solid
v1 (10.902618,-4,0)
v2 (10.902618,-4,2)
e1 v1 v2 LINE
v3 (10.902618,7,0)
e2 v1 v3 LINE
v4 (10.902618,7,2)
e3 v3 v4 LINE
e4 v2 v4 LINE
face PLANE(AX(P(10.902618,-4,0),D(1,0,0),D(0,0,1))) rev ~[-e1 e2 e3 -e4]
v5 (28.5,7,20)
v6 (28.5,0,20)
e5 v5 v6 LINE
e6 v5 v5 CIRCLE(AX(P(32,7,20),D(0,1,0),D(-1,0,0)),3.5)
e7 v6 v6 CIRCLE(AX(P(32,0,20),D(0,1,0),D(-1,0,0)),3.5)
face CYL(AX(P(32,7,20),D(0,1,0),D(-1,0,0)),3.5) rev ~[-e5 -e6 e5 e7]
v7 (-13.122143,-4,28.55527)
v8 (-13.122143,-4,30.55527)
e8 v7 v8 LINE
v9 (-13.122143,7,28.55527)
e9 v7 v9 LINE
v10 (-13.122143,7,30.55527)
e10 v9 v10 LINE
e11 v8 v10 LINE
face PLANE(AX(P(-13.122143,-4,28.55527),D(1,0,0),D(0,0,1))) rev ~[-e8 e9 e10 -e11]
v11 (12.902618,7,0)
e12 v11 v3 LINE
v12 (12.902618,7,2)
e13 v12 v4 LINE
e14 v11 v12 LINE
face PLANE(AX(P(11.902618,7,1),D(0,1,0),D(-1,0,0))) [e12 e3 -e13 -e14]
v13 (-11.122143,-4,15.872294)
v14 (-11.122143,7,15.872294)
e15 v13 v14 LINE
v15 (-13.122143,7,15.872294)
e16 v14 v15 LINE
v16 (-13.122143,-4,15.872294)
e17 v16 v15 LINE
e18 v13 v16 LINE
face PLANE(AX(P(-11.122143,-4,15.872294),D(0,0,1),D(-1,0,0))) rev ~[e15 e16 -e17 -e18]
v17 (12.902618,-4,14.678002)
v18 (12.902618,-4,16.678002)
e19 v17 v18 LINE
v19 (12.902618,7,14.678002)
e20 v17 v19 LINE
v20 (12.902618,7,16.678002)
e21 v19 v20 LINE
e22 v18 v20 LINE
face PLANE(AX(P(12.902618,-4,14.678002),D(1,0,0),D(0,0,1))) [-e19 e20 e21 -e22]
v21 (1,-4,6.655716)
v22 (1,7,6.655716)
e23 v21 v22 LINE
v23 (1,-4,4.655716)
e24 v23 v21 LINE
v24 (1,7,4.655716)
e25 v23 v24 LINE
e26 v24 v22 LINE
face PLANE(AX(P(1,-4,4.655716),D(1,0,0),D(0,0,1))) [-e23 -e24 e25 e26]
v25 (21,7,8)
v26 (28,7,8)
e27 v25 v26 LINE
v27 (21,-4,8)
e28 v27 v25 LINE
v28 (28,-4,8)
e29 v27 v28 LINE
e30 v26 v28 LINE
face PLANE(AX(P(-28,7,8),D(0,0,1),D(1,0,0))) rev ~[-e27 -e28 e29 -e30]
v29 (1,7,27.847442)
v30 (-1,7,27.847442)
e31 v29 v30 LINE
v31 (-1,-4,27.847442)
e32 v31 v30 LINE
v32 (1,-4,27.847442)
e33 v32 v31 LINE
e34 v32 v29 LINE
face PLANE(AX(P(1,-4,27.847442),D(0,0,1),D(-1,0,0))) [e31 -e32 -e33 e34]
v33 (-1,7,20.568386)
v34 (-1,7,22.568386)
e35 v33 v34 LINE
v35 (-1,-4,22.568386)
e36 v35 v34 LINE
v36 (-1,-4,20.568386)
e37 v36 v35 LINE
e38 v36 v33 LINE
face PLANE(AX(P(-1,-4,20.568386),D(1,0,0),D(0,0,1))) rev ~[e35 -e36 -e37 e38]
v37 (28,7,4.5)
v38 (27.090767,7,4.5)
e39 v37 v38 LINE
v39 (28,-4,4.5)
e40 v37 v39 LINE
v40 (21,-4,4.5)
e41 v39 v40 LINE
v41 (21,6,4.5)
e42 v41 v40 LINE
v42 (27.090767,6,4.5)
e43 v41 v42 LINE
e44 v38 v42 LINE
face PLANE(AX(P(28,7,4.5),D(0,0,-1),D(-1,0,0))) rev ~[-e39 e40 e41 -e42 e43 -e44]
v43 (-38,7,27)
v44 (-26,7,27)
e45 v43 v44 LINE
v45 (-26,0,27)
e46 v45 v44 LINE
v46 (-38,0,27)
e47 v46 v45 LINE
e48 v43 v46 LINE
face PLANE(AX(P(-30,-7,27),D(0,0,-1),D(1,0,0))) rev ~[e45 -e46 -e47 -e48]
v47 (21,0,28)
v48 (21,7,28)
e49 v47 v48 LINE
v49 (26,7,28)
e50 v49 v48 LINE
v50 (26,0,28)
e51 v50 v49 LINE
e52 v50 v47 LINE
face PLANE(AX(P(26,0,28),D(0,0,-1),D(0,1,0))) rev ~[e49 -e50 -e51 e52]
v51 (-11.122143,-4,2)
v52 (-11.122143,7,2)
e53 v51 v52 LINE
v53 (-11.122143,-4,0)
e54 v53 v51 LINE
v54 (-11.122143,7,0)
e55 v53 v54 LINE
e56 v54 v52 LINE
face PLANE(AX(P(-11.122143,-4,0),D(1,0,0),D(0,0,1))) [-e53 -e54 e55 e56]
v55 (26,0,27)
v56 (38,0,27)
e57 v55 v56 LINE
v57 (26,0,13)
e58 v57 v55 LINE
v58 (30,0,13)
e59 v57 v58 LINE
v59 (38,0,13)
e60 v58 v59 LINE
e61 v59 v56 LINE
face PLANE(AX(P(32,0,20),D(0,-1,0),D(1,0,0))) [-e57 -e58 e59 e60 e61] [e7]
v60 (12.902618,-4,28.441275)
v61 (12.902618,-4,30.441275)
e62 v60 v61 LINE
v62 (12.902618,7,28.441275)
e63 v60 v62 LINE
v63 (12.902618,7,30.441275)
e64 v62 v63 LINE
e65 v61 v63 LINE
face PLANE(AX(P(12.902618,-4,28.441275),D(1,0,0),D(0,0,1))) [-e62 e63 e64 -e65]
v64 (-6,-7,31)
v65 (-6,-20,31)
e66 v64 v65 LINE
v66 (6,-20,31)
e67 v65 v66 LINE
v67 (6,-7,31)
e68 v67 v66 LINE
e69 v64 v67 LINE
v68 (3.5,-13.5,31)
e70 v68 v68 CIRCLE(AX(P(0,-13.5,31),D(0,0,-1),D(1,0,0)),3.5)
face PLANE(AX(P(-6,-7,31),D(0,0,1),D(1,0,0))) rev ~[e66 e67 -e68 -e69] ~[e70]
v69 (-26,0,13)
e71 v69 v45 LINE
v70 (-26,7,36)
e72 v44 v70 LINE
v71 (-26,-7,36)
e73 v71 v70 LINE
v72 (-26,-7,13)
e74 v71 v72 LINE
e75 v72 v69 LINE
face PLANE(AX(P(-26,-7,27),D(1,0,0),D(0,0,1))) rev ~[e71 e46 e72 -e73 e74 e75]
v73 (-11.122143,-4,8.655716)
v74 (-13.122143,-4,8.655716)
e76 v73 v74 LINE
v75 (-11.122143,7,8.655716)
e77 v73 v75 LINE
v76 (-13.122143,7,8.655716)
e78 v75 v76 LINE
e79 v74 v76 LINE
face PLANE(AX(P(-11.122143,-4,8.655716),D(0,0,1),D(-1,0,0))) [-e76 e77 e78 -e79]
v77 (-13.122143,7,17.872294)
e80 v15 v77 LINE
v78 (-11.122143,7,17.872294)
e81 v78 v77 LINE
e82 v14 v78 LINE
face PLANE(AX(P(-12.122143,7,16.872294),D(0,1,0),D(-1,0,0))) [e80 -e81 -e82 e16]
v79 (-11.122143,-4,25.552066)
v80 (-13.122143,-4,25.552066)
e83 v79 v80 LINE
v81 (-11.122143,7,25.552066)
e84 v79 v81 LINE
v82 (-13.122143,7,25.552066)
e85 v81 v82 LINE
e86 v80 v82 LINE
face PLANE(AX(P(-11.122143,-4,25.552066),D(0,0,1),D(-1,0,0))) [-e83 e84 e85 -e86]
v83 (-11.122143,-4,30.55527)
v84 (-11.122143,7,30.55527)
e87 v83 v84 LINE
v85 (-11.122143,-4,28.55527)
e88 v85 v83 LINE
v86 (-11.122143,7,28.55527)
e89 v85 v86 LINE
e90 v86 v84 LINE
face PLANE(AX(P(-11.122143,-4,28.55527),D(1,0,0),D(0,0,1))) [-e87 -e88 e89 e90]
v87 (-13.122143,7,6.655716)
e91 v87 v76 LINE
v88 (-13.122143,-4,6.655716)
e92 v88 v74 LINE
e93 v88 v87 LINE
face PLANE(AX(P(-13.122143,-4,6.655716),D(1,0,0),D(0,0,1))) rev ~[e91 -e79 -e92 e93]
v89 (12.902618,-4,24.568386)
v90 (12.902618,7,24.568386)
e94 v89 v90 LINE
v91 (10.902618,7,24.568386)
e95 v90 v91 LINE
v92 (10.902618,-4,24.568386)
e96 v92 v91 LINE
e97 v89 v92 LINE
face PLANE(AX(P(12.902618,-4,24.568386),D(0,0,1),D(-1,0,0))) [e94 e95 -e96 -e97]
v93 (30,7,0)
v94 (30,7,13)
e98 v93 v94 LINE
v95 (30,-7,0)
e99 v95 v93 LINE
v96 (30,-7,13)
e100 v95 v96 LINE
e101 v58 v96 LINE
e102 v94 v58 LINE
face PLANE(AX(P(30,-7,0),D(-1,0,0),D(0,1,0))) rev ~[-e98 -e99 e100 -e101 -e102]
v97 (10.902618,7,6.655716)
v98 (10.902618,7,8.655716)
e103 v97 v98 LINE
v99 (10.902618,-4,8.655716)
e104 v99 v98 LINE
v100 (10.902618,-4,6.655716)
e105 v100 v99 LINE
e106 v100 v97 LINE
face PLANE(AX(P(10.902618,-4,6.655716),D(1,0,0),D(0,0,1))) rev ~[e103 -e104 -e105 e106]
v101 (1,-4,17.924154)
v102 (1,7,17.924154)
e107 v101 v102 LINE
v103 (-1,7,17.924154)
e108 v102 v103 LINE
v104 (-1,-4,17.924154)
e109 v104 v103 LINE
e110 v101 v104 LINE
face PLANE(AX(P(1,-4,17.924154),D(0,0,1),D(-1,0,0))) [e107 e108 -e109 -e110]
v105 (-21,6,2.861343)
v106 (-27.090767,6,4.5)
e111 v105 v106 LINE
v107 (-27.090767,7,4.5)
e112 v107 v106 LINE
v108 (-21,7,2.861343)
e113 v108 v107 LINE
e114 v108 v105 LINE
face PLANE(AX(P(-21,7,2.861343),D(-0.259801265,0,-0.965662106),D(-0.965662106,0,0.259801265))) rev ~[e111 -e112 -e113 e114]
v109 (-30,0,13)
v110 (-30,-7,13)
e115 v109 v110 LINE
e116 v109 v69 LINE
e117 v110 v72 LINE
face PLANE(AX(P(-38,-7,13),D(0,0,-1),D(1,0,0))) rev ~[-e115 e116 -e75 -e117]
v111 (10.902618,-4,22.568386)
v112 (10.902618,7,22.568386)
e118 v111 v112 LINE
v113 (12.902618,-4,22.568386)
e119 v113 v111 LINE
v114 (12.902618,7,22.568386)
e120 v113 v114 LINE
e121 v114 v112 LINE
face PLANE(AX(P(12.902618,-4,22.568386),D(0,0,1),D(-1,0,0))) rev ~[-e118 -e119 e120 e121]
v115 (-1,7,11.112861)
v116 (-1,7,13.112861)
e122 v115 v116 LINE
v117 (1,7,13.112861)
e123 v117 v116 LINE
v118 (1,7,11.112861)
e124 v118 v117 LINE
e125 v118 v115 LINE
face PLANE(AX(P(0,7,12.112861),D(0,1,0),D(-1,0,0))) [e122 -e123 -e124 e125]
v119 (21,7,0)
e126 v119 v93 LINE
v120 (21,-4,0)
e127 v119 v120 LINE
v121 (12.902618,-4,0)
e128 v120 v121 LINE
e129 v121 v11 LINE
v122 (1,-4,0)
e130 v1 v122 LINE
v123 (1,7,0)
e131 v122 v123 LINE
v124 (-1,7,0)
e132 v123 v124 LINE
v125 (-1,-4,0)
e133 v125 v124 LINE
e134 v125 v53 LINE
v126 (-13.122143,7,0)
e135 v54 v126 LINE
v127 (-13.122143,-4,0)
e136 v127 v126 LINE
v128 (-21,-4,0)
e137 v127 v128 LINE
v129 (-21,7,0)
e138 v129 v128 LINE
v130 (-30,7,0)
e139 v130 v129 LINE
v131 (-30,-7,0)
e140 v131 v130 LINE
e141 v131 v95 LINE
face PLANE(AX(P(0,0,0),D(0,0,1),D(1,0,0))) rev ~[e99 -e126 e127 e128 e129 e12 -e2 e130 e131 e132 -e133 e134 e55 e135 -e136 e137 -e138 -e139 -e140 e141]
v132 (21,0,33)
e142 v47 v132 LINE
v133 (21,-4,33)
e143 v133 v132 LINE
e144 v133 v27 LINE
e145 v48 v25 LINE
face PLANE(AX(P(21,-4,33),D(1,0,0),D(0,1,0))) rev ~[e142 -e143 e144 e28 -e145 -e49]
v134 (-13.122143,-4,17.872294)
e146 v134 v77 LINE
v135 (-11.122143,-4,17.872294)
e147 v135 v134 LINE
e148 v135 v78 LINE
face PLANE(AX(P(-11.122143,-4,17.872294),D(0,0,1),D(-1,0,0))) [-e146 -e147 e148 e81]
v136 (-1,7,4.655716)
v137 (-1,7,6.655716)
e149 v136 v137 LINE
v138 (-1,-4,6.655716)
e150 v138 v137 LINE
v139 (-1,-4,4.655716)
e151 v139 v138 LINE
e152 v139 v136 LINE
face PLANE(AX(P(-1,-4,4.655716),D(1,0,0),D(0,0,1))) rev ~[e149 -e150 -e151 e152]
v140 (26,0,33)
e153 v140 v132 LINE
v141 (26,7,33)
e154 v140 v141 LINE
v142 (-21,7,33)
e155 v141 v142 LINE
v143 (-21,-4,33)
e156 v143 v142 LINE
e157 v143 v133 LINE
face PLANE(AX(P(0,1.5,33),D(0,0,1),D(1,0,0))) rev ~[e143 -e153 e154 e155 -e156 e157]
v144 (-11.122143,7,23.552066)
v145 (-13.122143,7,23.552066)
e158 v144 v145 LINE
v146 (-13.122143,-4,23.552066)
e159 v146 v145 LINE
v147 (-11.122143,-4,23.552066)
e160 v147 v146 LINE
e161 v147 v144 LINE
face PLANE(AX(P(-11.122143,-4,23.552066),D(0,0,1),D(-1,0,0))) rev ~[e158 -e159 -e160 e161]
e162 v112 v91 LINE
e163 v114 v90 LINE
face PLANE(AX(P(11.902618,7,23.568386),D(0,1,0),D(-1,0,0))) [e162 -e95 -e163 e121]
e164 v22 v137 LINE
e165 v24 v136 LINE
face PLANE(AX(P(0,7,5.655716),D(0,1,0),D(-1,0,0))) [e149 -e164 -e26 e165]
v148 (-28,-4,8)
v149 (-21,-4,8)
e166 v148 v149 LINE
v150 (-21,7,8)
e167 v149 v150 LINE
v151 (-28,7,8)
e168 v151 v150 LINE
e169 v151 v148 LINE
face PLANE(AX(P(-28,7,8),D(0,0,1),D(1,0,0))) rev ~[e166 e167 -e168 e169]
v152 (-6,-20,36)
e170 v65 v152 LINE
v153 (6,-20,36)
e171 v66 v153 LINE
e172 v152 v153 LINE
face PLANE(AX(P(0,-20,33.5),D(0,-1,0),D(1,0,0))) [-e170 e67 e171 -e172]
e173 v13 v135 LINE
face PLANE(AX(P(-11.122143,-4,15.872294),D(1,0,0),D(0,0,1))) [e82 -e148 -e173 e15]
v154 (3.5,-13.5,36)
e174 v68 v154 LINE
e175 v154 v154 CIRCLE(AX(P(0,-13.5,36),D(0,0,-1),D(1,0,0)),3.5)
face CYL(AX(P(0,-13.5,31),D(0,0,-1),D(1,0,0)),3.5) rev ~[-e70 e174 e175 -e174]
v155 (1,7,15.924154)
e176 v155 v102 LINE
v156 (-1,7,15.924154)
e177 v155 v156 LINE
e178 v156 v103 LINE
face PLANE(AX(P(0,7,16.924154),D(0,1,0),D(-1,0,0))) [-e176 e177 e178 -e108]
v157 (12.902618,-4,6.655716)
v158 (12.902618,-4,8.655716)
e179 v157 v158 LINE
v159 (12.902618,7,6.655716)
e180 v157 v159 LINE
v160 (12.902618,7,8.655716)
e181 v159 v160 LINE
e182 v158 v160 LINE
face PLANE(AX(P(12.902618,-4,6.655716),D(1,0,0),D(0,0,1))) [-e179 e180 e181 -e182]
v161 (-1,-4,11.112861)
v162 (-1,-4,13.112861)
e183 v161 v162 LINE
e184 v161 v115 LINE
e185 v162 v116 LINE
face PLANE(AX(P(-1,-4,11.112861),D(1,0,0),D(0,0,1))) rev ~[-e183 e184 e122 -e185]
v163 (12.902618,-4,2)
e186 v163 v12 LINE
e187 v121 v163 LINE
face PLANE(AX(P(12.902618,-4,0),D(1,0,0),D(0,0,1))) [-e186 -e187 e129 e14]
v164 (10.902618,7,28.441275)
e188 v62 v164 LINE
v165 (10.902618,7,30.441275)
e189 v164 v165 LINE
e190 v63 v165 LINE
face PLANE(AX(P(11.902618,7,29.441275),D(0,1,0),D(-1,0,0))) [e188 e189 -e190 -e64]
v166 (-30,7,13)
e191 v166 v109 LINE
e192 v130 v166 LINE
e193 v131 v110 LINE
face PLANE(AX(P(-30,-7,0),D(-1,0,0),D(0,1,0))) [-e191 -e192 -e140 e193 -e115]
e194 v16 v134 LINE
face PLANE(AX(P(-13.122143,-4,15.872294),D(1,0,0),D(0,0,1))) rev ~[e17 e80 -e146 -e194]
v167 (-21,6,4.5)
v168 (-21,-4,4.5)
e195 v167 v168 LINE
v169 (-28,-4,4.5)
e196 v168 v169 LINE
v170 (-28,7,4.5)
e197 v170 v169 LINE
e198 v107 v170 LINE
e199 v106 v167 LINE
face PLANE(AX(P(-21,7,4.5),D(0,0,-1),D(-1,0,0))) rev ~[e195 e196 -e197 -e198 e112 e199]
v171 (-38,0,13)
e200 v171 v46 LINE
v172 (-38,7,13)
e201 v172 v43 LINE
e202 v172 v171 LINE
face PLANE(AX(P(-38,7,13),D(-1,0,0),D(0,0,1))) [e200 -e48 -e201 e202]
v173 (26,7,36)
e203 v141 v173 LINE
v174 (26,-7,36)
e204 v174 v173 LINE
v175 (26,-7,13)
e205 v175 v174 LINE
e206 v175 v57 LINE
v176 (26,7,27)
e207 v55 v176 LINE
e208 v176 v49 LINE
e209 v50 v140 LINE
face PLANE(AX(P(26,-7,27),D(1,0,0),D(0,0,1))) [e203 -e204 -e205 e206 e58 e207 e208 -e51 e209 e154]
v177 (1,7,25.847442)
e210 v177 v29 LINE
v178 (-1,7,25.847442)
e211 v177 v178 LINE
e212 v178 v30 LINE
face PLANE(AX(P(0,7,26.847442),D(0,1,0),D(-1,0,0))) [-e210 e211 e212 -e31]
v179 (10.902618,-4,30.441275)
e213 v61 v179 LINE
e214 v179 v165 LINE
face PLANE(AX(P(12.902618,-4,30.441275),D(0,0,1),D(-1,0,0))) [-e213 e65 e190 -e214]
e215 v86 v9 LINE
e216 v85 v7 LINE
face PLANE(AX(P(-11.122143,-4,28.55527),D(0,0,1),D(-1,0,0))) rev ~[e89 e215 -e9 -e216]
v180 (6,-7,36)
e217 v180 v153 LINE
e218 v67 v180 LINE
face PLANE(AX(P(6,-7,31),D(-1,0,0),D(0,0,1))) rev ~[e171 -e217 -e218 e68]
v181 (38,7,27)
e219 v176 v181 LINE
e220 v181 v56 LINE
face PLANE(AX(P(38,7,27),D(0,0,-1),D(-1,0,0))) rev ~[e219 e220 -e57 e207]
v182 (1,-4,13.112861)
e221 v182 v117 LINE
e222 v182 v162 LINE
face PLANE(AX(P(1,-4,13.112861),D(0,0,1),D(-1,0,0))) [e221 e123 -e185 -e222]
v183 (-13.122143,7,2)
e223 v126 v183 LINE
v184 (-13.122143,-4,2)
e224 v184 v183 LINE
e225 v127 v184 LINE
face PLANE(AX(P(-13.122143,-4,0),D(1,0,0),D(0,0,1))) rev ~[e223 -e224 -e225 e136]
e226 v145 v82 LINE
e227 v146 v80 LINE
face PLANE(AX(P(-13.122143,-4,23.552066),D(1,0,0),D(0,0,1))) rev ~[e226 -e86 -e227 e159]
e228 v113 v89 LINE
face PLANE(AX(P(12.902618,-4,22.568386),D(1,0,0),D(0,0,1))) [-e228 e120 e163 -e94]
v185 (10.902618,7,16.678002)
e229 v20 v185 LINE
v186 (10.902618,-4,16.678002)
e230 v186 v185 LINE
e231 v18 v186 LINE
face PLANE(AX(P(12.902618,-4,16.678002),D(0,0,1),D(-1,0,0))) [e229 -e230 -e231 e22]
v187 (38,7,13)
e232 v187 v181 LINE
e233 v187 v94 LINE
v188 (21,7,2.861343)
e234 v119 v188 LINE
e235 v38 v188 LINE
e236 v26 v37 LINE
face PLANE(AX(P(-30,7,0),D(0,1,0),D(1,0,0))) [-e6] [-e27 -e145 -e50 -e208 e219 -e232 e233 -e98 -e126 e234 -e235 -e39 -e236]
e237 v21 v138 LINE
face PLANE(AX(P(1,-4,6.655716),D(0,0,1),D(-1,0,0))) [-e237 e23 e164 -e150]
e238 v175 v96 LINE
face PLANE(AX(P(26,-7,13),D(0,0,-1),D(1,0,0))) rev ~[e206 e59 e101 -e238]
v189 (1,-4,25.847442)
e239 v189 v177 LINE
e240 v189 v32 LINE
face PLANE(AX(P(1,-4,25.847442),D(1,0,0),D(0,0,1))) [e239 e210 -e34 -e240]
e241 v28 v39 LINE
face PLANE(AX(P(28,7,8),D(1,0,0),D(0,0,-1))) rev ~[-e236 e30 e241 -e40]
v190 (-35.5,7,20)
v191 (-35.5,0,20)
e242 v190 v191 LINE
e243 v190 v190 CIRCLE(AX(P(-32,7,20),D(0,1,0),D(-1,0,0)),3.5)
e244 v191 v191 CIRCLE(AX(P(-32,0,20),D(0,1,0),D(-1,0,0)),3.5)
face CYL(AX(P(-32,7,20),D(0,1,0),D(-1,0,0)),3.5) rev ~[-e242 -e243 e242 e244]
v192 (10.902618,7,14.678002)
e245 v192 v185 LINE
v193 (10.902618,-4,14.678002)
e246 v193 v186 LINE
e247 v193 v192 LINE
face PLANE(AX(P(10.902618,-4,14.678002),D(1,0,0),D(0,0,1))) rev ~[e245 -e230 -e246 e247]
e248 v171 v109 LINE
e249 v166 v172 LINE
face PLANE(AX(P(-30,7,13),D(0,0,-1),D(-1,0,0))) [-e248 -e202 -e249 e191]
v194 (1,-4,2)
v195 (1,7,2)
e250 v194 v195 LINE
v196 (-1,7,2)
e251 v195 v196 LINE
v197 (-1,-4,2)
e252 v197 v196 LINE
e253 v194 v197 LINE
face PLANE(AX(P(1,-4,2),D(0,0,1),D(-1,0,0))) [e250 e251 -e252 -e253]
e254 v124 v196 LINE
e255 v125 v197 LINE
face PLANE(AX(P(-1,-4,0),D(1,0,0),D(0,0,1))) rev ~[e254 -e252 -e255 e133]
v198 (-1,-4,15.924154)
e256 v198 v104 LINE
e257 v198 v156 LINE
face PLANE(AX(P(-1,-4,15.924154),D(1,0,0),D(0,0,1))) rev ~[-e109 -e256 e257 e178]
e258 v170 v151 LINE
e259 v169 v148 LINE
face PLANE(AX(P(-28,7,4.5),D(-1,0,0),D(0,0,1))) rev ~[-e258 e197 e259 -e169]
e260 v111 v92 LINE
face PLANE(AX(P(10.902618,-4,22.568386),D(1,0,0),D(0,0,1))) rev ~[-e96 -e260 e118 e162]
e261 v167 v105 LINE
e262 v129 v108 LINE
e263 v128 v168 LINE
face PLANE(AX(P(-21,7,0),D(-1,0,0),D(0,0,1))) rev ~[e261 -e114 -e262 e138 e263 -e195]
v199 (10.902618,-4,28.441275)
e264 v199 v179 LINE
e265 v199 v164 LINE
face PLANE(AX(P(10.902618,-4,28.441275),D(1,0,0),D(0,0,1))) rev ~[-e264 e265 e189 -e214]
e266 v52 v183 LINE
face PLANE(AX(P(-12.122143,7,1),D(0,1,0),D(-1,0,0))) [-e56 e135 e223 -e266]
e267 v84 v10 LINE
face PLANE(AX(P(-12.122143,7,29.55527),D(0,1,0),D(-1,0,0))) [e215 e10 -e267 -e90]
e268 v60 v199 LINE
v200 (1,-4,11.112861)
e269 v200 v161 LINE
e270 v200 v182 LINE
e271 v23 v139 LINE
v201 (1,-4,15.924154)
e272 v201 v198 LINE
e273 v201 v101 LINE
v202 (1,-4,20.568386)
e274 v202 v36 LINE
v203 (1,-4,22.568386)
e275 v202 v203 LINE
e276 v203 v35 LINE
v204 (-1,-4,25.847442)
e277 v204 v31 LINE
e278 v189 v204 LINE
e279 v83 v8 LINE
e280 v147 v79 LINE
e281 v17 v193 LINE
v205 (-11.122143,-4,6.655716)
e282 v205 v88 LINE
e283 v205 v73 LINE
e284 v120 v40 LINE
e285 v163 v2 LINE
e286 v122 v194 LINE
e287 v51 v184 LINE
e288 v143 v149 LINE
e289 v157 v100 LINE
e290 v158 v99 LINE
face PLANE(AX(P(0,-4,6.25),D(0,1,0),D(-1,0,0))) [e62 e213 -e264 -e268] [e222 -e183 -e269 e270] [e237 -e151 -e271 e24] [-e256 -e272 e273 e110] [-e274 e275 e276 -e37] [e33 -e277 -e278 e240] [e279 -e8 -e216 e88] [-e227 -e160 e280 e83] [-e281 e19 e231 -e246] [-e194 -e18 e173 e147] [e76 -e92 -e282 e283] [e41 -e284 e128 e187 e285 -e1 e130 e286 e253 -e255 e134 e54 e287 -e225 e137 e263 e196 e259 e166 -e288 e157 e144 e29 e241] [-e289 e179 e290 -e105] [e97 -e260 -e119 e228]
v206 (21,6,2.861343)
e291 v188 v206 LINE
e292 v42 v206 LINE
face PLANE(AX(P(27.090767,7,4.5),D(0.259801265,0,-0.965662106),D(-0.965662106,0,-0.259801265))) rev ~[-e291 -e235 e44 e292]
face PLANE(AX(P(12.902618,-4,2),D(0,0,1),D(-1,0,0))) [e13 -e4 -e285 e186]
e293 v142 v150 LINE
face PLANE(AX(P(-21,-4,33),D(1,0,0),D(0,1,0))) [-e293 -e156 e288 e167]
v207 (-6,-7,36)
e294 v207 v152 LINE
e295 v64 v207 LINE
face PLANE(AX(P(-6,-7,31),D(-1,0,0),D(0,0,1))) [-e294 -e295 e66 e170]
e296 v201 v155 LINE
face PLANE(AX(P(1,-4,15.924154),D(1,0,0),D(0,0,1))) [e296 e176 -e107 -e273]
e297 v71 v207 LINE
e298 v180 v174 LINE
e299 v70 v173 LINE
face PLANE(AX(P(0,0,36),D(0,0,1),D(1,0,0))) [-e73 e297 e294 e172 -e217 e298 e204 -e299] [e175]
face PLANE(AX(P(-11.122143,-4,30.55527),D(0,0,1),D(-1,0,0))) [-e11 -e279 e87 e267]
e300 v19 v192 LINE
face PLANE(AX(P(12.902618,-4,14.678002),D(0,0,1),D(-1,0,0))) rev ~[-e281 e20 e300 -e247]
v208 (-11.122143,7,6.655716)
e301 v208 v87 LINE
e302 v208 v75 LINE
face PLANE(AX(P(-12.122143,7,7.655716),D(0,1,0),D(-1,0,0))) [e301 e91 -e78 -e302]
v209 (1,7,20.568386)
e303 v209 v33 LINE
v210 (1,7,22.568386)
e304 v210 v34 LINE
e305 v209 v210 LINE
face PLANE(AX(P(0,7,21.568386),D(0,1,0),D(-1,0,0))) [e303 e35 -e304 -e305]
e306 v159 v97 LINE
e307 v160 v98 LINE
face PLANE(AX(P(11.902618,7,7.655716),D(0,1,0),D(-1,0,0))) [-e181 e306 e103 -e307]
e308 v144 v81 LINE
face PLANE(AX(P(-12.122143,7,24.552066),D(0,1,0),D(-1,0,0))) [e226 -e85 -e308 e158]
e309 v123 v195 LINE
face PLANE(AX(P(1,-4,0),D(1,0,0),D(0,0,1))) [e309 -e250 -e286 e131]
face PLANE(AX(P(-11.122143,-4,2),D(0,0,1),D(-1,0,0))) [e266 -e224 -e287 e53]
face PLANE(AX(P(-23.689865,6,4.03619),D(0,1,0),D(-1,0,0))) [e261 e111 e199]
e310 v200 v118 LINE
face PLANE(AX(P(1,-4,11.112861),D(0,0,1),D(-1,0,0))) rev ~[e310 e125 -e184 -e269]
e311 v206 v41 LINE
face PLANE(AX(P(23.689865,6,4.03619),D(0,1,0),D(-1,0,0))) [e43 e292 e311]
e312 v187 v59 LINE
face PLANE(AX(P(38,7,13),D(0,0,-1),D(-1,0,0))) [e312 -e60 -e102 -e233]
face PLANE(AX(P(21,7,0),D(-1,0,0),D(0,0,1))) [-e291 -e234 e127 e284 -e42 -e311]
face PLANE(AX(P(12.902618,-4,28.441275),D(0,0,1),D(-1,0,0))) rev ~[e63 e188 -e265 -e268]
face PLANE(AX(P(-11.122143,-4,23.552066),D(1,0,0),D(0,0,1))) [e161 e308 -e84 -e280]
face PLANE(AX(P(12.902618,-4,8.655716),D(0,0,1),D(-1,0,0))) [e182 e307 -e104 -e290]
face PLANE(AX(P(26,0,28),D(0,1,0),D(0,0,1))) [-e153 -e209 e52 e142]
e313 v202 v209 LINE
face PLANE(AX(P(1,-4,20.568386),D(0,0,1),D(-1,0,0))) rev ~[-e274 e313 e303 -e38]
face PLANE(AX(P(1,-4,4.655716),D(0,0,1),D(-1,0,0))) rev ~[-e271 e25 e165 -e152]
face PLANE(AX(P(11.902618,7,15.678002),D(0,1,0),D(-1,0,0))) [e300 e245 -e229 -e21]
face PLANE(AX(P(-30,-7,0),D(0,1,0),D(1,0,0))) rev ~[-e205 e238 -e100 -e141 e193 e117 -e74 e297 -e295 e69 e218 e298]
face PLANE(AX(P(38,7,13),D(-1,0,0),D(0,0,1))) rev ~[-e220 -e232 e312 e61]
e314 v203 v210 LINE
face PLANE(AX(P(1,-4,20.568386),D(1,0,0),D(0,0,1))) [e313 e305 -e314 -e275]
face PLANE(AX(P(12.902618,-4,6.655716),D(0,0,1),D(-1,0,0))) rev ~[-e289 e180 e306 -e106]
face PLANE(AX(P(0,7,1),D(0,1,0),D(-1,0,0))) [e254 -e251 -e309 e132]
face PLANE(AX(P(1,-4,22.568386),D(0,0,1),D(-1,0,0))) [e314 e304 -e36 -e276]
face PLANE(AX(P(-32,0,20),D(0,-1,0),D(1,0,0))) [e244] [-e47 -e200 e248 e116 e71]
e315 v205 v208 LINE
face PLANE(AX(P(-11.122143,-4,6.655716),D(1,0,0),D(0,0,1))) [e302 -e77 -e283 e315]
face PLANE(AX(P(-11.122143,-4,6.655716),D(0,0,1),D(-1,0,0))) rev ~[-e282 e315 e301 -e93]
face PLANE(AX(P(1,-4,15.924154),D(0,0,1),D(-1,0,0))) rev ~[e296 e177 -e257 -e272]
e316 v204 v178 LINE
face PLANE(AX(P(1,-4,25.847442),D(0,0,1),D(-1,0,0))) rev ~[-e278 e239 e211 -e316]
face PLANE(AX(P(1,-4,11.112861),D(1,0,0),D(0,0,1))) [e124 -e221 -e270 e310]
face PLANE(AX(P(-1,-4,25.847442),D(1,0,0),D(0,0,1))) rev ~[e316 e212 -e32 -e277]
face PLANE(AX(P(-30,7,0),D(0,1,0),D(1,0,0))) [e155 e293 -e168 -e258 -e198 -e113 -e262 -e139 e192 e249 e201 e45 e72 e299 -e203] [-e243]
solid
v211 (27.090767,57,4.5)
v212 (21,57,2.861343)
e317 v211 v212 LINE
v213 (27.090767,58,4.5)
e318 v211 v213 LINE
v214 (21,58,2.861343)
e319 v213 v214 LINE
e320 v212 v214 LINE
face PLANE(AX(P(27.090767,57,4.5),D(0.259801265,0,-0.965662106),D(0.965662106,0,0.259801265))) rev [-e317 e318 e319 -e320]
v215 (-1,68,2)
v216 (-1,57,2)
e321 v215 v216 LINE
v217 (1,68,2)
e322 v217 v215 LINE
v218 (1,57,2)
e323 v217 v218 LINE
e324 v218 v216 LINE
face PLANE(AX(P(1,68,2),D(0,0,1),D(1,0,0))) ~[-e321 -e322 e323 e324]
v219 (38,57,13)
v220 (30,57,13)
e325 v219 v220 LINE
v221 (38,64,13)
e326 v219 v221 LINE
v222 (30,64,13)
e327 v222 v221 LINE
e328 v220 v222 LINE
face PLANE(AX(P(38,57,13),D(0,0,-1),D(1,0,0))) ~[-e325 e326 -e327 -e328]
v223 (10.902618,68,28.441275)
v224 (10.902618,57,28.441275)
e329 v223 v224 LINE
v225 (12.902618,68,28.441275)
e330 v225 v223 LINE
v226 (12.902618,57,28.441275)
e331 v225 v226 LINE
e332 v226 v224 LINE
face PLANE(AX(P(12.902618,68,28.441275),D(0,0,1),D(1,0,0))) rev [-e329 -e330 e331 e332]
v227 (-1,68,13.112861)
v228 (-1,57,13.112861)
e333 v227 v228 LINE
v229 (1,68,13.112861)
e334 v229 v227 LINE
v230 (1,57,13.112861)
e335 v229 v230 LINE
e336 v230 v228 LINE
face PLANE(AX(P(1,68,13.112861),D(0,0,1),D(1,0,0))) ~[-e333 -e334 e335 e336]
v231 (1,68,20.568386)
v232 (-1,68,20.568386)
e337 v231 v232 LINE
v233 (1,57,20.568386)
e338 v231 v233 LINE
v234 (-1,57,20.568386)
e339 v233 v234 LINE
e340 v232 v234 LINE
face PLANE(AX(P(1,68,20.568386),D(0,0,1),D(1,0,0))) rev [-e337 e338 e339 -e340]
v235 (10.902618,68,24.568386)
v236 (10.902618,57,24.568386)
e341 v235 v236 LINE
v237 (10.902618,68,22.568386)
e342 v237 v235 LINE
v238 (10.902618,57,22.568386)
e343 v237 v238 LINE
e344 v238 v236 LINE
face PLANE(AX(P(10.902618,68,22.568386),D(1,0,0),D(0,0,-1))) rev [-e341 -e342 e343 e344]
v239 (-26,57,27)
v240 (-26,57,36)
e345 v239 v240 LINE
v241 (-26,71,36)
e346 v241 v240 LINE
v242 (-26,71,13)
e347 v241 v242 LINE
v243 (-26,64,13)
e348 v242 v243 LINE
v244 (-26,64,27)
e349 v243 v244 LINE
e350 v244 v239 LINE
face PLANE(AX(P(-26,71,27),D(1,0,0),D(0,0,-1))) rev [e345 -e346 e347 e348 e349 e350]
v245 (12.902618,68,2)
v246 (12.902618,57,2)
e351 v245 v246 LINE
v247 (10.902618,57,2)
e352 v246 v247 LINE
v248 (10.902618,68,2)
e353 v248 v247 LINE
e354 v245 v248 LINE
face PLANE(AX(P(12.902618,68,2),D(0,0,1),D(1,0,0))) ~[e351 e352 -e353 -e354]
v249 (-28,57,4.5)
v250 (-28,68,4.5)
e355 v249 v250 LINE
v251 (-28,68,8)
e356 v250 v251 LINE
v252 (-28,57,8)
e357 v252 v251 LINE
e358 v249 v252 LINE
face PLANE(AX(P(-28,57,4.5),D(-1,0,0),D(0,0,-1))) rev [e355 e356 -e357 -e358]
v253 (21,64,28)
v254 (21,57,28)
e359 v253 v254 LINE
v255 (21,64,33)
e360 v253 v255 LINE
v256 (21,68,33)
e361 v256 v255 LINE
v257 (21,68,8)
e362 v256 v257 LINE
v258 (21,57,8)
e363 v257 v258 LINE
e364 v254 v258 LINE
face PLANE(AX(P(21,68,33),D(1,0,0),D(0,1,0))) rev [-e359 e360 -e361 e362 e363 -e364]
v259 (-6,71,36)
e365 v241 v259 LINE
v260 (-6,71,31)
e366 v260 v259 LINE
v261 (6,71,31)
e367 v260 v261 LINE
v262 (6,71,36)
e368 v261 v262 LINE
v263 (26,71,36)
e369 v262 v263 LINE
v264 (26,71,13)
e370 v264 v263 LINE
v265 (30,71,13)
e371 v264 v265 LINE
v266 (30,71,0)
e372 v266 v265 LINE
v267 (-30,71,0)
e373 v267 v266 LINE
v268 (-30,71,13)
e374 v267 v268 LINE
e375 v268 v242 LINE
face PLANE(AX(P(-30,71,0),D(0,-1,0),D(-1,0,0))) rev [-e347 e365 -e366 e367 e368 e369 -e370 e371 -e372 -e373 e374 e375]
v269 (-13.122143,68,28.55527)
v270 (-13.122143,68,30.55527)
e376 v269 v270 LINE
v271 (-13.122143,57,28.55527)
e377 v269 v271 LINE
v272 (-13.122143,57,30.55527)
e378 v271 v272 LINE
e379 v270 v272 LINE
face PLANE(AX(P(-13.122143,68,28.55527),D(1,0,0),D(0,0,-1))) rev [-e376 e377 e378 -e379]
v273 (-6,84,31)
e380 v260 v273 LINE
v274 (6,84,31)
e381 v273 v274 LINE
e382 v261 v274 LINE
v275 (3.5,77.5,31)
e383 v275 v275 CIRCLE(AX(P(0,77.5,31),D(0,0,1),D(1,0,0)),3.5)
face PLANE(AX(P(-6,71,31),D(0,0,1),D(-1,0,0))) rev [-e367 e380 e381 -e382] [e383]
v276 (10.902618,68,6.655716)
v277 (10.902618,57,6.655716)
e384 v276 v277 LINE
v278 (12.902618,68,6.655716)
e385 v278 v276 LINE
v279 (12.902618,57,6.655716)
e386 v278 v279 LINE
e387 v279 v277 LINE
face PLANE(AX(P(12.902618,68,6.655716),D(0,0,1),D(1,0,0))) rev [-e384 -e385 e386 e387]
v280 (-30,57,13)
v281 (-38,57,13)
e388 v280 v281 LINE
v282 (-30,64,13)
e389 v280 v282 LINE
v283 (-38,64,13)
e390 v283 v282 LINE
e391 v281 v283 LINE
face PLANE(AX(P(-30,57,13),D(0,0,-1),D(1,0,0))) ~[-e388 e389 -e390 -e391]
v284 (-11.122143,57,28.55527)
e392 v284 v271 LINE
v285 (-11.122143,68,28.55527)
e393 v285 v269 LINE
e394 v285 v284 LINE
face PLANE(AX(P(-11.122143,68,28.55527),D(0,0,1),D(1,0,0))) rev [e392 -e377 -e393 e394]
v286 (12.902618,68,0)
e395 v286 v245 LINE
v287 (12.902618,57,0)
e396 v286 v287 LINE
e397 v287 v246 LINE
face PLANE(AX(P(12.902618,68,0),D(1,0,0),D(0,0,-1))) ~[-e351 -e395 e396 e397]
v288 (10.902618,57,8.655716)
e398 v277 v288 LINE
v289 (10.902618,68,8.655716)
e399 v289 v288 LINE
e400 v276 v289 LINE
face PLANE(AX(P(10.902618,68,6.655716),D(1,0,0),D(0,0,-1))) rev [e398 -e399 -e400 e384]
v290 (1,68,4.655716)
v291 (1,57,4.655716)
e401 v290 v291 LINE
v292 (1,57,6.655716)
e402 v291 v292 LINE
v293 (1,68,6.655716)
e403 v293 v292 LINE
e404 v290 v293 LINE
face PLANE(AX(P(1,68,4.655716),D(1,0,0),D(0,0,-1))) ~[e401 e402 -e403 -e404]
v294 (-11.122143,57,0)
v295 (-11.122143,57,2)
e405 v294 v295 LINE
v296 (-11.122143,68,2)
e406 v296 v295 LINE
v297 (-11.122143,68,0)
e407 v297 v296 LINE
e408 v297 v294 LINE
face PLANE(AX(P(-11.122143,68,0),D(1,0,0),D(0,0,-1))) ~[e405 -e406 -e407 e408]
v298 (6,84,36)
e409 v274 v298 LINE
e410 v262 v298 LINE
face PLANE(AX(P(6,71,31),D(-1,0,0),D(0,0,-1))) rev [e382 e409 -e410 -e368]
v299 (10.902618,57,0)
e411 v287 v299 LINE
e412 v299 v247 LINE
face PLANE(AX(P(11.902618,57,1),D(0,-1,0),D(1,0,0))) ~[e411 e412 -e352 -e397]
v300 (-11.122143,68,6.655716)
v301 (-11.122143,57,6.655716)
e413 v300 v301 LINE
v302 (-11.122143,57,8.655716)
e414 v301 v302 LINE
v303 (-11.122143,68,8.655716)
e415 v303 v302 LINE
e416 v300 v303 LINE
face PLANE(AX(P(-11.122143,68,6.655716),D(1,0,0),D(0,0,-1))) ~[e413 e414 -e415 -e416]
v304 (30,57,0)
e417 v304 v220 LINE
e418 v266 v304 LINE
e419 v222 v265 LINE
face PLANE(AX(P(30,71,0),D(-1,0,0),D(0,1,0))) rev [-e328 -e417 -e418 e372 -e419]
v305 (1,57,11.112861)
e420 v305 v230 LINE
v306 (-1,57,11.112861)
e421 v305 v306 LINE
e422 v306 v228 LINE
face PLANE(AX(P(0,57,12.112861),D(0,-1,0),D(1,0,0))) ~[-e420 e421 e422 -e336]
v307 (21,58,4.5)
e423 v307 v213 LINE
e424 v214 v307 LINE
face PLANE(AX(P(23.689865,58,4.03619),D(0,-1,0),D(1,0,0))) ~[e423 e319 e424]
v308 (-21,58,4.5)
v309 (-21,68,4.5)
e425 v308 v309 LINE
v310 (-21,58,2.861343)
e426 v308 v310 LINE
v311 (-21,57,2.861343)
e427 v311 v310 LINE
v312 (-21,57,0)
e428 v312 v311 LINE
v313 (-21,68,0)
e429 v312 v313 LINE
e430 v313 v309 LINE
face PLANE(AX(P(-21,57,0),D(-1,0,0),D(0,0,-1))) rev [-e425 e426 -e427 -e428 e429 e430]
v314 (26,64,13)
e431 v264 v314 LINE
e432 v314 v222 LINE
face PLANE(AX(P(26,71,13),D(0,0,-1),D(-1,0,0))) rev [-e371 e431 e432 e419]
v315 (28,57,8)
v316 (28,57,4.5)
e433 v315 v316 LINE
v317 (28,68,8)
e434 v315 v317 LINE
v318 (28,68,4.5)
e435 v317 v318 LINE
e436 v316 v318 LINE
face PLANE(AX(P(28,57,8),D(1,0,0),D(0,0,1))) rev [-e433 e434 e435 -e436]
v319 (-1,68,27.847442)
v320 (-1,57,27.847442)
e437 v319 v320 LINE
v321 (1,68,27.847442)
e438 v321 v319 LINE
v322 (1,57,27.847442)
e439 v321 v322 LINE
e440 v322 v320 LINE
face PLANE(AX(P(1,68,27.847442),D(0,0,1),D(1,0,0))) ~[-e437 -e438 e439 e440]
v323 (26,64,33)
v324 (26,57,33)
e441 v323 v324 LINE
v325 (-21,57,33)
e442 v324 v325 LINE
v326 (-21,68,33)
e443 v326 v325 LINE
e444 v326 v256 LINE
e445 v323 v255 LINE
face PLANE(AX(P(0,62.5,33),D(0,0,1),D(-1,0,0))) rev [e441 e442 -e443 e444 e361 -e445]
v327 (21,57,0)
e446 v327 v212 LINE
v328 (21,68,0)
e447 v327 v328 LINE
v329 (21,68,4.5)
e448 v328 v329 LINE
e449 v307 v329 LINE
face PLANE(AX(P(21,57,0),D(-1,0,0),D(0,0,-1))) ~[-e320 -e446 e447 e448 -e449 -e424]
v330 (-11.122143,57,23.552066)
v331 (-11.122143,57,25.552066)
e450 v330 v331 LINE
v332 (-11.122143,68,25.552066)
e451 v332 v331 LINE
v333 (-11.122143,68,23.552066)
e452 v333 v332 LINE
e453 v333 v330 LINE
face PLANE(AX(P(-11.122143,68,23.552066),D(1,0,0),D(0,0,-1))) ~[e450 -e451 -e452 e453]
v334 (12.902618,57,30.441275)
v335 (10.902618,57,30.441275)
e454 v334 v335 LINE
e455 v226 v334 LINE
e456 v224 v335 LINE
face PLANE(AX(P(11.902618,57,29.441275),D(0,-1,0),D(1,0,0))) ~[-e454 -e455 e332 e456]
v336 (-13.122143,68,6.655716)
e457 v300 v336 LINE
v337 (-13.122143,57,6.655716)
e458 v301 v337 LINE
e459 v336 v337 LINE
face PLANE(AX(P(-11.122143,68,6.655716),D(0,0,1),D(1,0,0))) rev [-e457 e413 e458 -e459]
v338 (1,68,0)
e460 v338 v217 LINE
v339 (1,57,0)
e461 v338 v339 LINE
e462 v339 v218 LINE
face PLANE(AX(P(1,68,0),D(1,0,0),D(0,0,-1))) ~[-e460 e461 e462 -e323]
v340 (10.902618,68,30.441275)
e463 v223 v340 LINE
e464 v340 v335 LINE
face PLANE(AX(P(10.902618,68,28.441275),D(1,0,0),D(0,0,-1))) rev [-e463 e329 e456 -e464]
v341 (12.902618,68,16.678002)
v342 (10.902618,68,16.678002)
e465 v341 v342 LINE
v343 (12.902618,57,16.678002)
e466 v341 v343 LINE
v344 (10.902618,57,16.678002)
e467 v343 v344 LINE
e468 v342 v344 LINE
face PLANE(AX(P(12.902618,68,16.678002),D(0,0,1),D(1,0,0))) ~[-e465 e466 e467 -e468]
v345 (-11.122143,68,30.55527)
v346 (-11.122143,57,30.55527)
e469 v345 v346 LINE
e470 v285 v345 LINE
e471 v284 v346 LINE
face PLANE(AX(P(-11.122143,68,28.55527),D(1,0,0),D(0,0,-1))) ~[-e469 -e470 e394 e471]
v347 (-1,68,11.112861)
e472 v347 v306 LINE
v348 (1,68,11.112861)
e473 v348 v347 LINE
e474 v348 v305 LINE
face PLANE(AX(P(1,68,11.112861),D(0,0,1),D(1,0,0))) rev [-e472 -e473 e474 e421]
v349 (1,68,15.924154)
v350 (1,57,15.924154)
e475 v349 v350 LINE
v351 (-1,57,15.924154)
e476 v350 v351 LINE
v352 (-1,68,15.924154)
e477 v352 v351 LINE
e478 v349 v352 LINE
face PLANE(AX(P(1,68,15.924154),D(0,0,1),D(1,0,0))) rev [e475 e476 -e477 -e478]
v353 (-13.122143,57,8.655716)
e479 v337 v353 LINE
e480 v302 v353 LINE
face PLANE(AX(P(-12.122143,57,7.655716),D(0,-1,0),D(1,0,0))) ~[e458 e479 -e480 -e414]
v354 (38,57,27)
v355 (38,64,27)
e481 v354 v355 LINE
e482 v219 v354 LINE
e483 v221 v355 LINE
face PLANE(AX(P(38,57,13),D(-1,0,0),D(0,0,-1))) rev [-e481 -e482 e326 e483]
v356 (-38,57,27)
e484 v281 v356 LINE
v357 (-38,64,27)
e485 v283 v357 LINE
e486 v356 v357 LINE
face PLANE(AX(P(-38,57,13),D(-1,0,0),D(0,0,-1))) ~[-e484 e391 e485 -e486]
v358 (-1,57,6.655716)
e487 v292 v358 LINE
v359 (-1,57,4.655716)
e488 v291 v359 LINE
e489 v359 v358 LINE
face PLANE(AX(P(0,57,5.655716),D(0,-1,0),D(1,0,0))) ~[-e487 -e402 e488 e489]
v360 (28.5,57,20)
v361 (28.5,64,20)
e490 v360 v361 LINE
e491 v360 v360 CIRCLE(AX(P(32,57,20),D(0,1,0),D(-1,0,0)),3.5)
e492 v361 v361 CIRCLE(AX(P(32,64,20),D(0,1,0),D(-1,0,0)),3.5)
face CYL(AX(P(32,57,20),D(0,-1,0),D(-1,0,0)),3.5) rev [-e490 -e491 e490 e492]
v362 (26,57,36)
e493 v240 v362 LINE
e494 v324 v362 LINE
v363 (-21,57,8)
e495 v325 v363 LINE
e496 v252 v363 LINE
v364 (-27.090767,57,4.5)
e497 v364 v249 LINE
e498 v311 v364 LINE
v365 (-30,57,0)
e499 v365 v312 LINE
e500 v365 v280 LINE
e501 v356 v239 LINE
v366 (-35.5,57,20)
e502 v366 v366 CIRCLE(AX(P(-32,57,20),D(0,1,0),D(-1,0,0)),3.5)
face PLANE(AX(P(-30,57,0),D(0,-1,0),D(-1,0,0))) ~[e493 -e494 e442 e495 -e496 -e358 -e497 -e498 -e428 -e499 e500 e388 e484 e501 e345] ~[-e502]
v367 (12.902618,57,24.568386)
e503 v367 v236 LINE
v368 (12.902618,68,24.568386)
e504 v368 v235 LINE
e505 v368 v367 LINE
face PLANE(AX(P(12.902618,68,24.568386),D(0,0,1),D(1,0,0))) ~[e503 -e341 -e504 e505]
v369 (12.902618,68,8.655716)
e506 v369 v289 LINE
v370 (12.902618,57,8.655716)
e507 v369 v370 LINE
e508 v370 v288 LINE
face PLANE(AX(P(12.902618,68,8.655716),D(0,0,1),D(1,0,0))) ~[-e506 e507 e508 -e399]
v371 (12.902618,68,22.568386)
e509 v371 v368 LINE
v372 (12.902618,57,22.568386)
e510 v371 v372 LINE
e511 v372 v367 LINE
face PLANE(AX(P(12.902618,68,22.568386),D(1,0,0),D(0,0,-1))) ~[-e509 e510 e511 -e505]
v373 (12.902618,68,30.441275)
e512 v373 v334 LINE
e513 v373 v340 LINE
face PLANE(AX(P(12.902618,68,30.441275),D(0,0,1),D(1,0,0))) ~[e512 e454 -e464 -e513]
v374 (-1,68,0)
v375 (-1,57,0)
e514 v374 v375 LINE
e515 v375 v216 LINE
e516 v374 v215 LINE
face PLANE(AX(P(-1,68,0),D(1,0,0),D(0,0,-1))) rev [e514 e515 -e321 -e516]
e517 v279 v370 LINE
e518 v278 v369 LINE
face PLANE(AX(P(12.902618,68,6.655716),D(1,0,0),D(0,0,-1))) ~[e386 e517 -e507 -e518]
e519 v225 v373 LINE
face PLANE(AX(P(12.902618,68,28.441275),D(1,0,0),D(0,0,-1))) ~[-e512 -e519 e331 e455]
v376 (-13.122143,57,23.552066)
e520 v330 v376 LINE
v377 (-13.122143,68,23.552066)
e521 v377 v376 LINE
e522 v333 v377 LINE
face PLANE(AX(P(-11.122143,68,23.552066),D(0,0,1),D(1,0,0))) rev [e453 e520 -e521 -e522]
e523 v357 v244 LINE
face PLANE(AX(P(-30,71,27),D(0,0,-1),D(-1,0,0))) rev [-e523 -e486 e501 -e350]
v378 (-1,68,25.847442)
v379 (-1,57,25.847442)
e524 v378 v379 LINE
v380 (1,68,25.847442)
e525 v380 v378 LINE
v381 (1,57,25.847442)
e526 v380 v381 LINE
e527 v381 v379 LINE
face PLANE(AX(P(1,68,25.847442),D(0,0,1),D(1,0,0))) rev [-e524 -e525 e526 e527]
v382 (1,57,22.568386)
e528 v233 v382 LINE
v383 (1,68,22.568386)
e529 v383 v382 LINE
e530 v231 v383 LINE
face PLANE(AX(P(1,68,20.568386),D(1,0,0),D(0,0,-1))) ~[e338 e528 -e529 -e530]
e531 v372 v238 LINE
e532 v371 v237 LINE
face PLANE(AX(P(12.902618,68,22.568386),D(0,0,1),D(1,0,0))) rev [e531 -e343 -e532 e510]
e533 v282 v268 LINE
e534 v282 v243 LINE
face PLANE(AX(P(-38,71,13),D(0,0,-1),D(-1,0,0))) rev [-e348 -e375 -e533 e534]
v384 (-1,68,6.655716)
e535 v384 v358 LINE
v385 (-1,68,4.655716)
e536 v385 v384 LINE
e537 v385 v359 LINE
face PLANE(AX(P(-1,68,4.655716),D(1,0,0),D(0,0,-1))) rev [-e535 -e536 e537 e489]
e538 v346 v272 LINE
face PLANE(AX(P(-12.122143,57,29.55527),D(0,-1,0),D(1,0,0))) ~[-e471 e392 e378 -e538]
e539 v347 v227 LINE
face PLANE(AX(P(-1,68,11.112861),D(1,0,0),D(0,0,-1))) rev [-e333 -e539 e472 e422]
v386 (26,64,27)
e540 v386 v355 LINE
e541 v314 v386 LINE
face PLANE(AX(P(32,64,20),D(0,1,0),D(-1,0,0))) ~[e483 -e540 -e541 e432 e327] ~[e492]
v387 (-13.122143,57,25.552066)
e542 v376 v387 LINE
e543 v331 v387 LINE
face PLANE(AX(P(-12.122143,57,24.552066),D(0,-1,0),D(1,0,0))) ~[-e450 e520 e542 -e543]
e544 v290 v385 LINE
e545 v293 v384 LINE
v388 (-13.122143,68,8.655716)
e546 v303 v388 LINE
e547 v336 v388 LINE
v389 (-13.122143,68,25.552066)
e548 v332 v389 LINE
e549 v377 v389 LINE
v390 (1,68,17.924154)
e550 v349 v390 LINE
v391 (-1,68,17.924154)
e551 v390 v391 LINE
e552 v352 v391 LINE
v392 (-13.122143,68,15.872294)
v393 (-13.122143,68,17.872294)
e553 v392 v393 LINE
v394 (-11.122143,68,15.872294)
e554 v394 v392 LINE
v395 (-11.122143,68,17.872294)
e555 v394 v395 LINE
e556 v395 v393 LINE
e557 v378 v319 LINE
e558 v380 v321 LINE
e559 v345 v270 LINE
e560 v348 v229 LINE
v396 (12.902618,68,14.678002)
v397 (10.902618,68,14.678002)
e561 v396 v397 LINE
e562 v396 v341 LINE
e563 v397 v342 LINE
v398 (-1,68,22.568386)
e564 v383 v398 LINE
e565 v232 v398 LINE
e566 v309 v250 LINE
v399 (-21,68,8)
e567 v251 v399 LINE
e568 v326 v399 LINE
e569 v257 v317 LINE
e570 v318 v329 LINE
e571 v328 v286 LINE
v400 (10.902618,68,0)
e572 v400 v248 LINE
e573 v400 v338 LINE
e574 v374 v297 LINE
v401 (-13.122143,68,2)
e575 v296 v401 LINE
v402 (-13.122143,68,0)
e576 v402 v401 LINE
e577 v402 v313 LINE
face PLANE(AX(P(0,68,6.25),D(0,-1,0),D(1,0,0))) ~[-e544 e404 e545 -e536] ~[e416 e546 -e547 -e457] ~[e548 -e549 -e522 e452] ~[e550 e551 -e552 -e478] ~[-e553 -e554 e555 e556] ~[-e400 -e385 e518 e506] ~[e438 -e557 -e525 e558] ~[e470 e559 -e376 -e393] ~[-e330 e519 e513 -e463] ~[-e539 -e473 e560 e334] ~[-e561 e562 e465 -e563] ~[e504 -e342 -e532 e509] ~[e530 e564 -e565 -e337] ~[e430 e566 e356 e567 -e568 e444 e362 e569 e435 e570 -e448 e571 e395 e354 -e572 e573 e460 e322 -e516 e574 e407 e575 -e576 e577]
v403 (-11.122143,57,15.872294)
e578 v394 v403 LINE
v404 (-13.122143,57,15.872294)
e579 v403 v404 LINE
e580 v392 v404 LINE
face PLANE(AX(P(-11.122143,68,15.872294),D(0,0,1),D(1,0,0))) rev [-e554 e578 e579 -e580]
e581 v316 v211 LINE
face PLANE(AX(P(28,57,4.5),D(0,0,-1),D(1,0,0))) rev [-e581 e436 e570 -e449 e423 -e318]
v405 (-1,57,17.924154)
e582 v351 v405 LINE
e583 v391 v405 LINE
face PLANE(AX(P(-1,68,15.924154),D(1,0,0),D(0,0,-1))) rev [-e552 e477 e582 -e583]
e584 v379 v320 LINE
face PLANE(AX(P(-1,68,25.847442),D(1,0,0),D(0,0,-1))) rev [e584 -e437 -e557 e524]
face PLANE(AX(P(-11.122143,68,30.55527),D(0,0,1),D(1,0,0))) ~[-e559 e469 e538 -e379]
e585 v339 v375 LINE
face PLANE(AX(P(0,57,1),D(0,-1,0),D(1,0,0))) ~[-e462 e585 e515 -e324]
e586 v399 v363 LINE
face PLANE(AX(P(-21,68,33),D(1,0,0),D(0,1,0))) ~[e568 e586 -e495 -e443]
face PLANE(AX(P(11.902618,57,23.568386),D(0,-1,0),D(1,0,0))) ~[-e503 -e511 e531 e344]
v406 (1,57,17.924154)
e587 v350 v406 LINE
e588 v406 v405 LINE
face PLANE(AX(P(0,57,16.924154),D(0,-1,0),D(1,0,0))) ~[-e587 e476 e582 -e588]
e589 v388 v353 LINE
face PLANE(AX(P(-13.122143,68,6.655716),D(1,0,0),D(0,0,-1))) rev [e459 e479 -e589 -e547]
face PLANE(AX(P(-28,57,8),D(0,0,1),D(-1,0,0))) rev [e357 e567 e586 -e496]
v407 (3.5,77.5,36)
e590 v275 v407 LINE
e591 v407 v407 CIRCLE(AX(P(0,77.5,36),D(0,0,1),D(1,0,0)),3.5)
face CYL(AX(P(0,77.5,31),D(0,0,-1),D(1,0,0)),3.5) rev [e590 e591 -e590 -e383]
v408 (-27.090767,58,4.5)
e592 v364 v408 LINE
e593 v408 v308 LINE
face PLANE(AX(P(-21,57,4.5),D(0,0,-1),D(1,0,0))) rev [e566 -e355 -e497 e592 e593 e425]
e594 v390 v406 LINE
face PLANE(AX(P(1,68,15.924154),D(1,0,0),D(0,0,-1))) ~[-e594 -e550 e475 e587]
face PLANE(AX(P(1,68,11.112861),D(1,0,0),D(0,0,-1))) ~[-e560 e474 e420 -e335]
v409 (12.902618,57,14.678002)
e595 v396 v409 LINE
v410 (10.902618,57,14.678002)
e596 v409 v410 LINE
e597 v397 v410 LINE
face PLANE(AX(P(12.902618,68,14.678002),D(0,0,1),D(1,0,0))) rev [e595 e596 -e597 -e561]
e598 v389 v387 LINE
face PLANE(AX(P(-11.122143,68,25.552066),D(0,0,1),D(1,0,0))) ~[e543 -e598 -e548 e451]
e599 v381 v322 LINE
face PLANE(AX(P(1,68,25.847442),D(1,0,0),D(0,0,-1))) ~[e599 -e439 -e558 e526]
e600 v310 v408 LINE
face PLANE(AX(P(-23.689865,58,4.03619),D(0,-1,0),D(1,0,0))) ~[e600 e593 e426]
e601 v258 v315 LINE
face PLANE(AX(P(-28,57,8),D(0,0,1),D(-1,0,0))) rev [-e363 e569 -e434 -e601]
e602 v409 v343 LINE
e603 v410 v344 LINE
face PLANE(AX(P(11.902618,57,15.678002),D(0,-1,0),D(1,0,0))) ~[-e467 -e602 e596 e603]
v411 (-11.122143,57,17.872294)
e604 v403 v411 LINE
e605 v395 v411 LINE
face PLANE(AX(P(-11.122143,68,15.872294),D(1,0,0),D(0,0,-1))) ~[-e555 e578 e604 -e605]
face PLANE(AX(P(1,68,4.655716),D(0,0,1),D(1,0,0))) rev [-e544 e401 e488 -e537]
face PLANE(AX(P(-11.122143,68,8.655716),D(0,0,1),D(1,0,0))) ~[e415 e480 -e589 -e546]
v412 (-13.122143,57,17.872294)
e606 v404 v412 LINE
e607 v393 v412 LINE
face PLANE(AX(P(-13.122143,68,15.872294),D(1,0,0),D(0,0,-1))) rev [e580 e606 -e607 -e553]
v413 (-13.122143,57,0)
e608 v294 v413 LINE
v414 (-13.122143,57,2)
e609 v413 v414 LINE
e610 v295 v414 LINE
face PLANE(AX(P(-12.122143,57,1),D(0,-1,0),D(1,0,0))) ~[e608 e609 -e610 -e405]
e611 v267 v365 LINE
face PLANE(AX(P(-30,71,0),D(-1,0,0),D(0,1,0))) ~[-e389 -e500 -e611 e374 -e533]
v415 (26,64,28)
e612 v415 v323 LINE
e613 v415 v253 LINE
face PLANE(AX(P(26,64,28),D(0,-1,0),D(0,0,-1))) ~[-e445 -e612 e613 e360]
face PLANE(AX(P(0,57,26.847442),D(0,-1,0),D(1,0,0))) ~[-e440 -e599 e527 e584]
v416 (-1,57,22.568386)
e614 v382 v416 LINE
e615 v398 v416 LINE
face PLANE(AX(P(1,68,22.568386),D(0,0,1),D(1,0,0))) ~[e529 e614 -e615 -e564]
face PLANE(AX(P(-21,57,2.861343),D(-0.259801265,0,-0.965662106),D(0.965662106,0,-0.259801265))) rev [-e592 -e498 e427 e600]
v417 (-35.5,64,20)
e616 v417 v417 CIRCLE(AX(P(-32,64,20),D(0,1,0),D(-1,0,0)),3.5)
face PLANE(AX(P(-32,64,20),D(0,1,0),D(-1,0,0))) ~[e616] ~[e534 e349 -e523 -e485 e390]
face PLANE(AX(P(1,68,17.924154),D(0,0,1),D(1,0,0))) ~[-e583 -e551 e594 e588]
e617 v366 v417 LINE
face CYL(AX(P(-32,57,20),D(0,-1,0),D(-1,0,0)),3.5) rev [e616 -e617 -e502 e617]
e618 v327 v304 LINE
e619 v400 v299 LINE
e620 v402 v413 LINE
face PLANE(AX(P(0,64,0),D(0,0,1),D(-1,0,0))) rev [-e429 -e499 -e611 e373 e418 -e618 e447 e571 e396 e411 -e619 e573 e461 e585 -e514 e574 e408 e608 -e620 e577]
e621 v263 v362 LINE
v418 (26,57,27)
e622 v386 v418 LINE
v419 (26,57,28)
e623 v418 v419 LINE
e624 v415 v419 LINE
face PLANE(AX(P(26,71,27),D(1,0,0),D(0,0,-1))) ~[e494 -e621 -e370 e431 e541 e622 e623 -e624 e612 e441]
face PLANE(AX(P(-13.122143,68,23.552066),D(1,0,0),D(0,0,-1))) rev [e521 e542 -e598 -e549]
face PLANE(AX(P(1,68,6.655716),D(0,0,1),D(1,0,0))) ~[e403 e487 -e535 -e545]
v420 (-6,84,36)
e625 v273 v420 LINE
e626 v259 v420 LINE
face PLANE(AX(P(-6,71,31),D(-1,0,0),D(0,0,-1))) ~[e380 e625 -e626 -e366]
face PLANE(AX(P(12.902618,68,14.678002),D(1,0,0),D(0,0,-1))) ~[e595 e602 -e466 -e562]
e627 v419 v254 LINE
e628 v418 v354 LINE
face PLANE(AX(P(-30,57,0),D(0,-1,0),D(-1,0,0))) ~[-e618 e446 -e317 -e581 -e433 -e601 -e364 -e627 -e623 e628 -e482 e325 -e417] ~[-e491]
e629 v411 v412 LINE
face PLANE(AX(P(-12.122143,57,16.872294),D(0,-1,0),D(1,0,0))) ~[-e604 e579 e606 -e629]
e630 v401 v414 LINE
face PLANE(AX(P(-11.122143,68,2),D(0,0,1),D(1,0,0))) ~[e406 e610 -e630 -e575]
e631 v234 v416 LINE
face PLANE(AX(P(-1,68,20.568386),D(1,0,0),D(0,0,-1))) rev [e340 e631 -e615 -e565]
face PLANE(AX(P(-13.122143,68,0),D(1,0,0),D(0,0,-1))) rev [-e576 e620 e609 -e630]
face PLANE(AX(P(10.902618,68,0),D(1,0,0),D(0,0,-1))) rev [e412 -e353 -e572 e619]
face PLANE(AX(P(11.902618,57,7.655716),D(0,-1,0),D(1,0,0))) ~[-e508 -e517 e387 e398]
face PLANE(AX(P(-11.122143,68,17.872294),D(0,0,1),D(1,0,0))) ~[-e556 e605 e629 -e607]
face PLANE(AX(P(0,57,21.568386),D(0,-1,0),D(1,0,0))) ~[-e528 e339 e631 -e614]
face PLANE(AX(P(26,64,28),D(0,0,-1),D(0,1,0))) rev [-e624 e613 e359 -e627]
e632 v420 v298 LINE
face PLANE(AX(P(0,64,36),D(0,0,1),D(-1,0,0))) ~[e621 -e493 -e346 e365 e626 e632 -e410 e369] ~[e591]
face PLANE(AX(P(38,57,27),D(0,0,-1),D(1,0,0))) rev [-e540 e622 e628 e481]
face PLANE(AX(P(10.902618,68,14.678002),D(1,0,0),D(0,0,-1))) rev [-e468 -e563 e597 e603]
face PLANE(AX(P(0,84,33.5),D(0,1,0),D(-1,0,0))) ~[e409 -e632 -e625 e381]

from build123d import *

# Parameters (mm, degrees)
F0_W      = 60
F0_H      = 14
F1_DEPTH  = 36
F3_W      = 42
F3_H      = 11
F4_DEPTH  = 25
F5_W      = 42
F5_H      = 4.5
F6_DEPTH  = 11
F7_W      = 8
F7_H      = 14
F8_DEPTH  = 14
F9_R      = 3.5
F10_DEPTH = 14
F11_W     = 12
F11_H     = 14
F12_DEPTH = 7
F13_W     = 4
F13_H     = 9
F14_DEPTH = 14
F15_W     = 7
F15_H     = 5
F16_DEPTH = 5
F18_DEPTH = 1
F19_W     = 12
F19_H     = 5
F20_DEPTH = 13
F21_R     = 3.5
F22_DEPTH = 5
F25_W     = 2
F25_H     = 2
F26_DEPTH = 11


with BuildPart() as f1:
    # F0 (on Top) → F1 (new body)
    with BuildSketch(Plane.XY):
        Rectangle(F0_W, F0_H)
    extrude(amount=F1_DEPTH)

    # F3 (on offset) → F4 (cut)
    with BuildSketch(Plane.XY.offset(33)):
        with Locations((0, 1.5)):
            Rectangle(F3_W, F3_H)
    extrude(amount=-F4_DEPTH, mode=Mode.SUBTRACT)

    # F5 (on face) → F6 (cut)
    with BuildSketch(Plane(origin=(0, 7, 0), x_dir=(-1, 0, 0), z_dir=(0, 1, 0))):
        Polygon((21, 4.5), (28, 4.5), (28, 8), (-28, 8), (-28, 4.5), (-21, 4.5), align=None)
        with Locations((0, 2.25)):
            Rectangle(F5_W, F5_H)
    extrude(amount=-F6_DEPTH, mode=Mode.SUBTRACT)

    # F7 (on face) → F8 (join)
    with BuildSketch(Plane(origin=(0, 7, 0), x_dir=(-1, 0, 0), z_dir=(0, 1, 0))):
        with Locations((34, 20)):
            Rectangle(F7_W, F7_H)
        with Locations((-34, 20)):
            Rectangle(F7_W, F7_H)
    extrude(amount=-F8_DEPTH)

    # F9 (on face) → F10 (cut)
    with BuildSketch(Plane(origin=(0, 7, 0), x_dir=(-1, 0, 0), z_dir=(0, 1, 0))):
        with Locations((32, 20)):
            Circle(F9_R)
        with Locations((-32, 20)):
            Circle(F9_R)
    extrude(amount=-F10_DEPTH, mode=Mode.SUBTRACT)

    # F11 (on face) → F12 (cut)
    with BuildSketch(Plane.XZ.offset(7)):
        with Locations((32, 20)):
            Rectangle(F11_W, F11_H)
        with Locations((-32, 20)):
            Rectangle(F11_W, F11_H)
    extrude(amount=-F12_DEPTH, mode=Mode.SUBTRACT)

    # F13 (on face) → F14 (cut)
    with BuildSketch(Plane.XZ.offset(7)):
        with Locations((28, 31.5)):
            Rectangle(F13_W, F13_H)
        with Locations((-28, 31.5)):
            Rectangle(F13_W, F13_H)
    extrude(amount=-F14_DEPTH, mode=Mode.SUBTRACT)

    # F15 (on face) → F16 (cut)
    with BuildSketch(Plane.YZ.offset(26)):
        with Locations((3.5, 30.5)):
            Rectangle(F15_W, F15_H)
    extrude(amount=-F16_DEPTH, mode=Mode.SUBTRACT)

    # F17 (on face) → F18 (cut)
    with BuildSketch(Plane(origin=(0, 7, 0), x_dir=(-1, 0, 0), z_dir=(0, 1, 0))):
        Polygon((-27.090767, 4.5), (-21, 2.861343), (-21, 4.5), align=None)
        Polygon((21, 4.5), (21, 2.861343), (27.090767, 4.5), align=None)
    extrude(amount=-F18_DEPTH, mode=Mode.SUBTRACT)

    # F19 (on face) → F20 (join)
    with BuildSketch(Plane.XZ.offset(7)):
        with Locations((0, 33.5)):
            Rectangle(F19_W, F19_H)
    extrude(amount=F20_DEPTH)

    # F21 (on face) → F22 (cut)
    with BuildSketch(Plane(origin=(0, 0, 31), x_dir=(1, 0, 0), z_dir=(0, 0, -1))):
        with Locations((0, 13.5)):
            Circle(F21_R)
    extrude(amount=-F22_DEPTH, mode=Mode.SUBTRACT)

    # F25 (on face) → F26 (join)
    with BuildSketch(Plane(origin=(0, -4, 0), x_dir=(-1, 0, 0), z_dir=(0, 1, 0))):
        with Locations((0, 1)):
            Rectangle(F25_W, F25_H)
        with Locations((0, 5.655716)):
            Rectangle(F25_W, F25_H)
        with Locations((0, 12.112861)):
            Rectangle(F25_W, F25_H)
        with Locations((0, 16.924154)):
            Rectangle(F25_W, F25_H)
        with Locations((0, 21.568386)):
            Rectangle(F25_W, F25_H)
        with Locations((0, 26.847442)):
            Rectangle(F25_W, F25_H)
        with Locations((12.122143, 1)):
            Rectangle(F25_W, F25_H)
        with Locations((12.122143, 7.655716)):
            Rectangle(F25_W, F25_H)
        with Locations((12.122143, 16.872294)):
            Rectangle(F25_W, F25_H)
        with Locations((12.122143, 24.552066)):
            Rectangle(F25_W, F25_H)
        with Locations((12.122143, 29.55527)):
            Rectangle(F25_W, F25_H)
        with Locations((-11.902618, 1)):
            Rectangle(F25_W, F25_H)
        with Locations((-11.902618, 7.655716)):
            Rectangle(F25_W, F25_H)
        with Locations((-11.902618, 15.678002)):
            Rectangle(F25_W, F25_H)
        with Locations((-11.902618, 23.568386)):
            Rectangle(F25_W, F25_H)
        with Locations((-11.902618, 29.441275)):
            Rectangle(F25_W, F25_H)
    extrude(amount=F26_DEPTH)


with BuildPart() as f24_1:
    # F24: instance of F1
    add(f1.part.mirror(Plane(origin=(-18.525055, 32, 22.958513), x_dir=(-1, 0, 0), z_dir=(0, 1, 0))))

    # F27: F1 across plane
    add(f1.part.mirror(Plane(origin=(-18.525055, 32, 22.958513), x_dir=(-1, 0, 0), z_dir=(0, 1, 0))))


solid = Compound([f1.part, f24_1.part])
